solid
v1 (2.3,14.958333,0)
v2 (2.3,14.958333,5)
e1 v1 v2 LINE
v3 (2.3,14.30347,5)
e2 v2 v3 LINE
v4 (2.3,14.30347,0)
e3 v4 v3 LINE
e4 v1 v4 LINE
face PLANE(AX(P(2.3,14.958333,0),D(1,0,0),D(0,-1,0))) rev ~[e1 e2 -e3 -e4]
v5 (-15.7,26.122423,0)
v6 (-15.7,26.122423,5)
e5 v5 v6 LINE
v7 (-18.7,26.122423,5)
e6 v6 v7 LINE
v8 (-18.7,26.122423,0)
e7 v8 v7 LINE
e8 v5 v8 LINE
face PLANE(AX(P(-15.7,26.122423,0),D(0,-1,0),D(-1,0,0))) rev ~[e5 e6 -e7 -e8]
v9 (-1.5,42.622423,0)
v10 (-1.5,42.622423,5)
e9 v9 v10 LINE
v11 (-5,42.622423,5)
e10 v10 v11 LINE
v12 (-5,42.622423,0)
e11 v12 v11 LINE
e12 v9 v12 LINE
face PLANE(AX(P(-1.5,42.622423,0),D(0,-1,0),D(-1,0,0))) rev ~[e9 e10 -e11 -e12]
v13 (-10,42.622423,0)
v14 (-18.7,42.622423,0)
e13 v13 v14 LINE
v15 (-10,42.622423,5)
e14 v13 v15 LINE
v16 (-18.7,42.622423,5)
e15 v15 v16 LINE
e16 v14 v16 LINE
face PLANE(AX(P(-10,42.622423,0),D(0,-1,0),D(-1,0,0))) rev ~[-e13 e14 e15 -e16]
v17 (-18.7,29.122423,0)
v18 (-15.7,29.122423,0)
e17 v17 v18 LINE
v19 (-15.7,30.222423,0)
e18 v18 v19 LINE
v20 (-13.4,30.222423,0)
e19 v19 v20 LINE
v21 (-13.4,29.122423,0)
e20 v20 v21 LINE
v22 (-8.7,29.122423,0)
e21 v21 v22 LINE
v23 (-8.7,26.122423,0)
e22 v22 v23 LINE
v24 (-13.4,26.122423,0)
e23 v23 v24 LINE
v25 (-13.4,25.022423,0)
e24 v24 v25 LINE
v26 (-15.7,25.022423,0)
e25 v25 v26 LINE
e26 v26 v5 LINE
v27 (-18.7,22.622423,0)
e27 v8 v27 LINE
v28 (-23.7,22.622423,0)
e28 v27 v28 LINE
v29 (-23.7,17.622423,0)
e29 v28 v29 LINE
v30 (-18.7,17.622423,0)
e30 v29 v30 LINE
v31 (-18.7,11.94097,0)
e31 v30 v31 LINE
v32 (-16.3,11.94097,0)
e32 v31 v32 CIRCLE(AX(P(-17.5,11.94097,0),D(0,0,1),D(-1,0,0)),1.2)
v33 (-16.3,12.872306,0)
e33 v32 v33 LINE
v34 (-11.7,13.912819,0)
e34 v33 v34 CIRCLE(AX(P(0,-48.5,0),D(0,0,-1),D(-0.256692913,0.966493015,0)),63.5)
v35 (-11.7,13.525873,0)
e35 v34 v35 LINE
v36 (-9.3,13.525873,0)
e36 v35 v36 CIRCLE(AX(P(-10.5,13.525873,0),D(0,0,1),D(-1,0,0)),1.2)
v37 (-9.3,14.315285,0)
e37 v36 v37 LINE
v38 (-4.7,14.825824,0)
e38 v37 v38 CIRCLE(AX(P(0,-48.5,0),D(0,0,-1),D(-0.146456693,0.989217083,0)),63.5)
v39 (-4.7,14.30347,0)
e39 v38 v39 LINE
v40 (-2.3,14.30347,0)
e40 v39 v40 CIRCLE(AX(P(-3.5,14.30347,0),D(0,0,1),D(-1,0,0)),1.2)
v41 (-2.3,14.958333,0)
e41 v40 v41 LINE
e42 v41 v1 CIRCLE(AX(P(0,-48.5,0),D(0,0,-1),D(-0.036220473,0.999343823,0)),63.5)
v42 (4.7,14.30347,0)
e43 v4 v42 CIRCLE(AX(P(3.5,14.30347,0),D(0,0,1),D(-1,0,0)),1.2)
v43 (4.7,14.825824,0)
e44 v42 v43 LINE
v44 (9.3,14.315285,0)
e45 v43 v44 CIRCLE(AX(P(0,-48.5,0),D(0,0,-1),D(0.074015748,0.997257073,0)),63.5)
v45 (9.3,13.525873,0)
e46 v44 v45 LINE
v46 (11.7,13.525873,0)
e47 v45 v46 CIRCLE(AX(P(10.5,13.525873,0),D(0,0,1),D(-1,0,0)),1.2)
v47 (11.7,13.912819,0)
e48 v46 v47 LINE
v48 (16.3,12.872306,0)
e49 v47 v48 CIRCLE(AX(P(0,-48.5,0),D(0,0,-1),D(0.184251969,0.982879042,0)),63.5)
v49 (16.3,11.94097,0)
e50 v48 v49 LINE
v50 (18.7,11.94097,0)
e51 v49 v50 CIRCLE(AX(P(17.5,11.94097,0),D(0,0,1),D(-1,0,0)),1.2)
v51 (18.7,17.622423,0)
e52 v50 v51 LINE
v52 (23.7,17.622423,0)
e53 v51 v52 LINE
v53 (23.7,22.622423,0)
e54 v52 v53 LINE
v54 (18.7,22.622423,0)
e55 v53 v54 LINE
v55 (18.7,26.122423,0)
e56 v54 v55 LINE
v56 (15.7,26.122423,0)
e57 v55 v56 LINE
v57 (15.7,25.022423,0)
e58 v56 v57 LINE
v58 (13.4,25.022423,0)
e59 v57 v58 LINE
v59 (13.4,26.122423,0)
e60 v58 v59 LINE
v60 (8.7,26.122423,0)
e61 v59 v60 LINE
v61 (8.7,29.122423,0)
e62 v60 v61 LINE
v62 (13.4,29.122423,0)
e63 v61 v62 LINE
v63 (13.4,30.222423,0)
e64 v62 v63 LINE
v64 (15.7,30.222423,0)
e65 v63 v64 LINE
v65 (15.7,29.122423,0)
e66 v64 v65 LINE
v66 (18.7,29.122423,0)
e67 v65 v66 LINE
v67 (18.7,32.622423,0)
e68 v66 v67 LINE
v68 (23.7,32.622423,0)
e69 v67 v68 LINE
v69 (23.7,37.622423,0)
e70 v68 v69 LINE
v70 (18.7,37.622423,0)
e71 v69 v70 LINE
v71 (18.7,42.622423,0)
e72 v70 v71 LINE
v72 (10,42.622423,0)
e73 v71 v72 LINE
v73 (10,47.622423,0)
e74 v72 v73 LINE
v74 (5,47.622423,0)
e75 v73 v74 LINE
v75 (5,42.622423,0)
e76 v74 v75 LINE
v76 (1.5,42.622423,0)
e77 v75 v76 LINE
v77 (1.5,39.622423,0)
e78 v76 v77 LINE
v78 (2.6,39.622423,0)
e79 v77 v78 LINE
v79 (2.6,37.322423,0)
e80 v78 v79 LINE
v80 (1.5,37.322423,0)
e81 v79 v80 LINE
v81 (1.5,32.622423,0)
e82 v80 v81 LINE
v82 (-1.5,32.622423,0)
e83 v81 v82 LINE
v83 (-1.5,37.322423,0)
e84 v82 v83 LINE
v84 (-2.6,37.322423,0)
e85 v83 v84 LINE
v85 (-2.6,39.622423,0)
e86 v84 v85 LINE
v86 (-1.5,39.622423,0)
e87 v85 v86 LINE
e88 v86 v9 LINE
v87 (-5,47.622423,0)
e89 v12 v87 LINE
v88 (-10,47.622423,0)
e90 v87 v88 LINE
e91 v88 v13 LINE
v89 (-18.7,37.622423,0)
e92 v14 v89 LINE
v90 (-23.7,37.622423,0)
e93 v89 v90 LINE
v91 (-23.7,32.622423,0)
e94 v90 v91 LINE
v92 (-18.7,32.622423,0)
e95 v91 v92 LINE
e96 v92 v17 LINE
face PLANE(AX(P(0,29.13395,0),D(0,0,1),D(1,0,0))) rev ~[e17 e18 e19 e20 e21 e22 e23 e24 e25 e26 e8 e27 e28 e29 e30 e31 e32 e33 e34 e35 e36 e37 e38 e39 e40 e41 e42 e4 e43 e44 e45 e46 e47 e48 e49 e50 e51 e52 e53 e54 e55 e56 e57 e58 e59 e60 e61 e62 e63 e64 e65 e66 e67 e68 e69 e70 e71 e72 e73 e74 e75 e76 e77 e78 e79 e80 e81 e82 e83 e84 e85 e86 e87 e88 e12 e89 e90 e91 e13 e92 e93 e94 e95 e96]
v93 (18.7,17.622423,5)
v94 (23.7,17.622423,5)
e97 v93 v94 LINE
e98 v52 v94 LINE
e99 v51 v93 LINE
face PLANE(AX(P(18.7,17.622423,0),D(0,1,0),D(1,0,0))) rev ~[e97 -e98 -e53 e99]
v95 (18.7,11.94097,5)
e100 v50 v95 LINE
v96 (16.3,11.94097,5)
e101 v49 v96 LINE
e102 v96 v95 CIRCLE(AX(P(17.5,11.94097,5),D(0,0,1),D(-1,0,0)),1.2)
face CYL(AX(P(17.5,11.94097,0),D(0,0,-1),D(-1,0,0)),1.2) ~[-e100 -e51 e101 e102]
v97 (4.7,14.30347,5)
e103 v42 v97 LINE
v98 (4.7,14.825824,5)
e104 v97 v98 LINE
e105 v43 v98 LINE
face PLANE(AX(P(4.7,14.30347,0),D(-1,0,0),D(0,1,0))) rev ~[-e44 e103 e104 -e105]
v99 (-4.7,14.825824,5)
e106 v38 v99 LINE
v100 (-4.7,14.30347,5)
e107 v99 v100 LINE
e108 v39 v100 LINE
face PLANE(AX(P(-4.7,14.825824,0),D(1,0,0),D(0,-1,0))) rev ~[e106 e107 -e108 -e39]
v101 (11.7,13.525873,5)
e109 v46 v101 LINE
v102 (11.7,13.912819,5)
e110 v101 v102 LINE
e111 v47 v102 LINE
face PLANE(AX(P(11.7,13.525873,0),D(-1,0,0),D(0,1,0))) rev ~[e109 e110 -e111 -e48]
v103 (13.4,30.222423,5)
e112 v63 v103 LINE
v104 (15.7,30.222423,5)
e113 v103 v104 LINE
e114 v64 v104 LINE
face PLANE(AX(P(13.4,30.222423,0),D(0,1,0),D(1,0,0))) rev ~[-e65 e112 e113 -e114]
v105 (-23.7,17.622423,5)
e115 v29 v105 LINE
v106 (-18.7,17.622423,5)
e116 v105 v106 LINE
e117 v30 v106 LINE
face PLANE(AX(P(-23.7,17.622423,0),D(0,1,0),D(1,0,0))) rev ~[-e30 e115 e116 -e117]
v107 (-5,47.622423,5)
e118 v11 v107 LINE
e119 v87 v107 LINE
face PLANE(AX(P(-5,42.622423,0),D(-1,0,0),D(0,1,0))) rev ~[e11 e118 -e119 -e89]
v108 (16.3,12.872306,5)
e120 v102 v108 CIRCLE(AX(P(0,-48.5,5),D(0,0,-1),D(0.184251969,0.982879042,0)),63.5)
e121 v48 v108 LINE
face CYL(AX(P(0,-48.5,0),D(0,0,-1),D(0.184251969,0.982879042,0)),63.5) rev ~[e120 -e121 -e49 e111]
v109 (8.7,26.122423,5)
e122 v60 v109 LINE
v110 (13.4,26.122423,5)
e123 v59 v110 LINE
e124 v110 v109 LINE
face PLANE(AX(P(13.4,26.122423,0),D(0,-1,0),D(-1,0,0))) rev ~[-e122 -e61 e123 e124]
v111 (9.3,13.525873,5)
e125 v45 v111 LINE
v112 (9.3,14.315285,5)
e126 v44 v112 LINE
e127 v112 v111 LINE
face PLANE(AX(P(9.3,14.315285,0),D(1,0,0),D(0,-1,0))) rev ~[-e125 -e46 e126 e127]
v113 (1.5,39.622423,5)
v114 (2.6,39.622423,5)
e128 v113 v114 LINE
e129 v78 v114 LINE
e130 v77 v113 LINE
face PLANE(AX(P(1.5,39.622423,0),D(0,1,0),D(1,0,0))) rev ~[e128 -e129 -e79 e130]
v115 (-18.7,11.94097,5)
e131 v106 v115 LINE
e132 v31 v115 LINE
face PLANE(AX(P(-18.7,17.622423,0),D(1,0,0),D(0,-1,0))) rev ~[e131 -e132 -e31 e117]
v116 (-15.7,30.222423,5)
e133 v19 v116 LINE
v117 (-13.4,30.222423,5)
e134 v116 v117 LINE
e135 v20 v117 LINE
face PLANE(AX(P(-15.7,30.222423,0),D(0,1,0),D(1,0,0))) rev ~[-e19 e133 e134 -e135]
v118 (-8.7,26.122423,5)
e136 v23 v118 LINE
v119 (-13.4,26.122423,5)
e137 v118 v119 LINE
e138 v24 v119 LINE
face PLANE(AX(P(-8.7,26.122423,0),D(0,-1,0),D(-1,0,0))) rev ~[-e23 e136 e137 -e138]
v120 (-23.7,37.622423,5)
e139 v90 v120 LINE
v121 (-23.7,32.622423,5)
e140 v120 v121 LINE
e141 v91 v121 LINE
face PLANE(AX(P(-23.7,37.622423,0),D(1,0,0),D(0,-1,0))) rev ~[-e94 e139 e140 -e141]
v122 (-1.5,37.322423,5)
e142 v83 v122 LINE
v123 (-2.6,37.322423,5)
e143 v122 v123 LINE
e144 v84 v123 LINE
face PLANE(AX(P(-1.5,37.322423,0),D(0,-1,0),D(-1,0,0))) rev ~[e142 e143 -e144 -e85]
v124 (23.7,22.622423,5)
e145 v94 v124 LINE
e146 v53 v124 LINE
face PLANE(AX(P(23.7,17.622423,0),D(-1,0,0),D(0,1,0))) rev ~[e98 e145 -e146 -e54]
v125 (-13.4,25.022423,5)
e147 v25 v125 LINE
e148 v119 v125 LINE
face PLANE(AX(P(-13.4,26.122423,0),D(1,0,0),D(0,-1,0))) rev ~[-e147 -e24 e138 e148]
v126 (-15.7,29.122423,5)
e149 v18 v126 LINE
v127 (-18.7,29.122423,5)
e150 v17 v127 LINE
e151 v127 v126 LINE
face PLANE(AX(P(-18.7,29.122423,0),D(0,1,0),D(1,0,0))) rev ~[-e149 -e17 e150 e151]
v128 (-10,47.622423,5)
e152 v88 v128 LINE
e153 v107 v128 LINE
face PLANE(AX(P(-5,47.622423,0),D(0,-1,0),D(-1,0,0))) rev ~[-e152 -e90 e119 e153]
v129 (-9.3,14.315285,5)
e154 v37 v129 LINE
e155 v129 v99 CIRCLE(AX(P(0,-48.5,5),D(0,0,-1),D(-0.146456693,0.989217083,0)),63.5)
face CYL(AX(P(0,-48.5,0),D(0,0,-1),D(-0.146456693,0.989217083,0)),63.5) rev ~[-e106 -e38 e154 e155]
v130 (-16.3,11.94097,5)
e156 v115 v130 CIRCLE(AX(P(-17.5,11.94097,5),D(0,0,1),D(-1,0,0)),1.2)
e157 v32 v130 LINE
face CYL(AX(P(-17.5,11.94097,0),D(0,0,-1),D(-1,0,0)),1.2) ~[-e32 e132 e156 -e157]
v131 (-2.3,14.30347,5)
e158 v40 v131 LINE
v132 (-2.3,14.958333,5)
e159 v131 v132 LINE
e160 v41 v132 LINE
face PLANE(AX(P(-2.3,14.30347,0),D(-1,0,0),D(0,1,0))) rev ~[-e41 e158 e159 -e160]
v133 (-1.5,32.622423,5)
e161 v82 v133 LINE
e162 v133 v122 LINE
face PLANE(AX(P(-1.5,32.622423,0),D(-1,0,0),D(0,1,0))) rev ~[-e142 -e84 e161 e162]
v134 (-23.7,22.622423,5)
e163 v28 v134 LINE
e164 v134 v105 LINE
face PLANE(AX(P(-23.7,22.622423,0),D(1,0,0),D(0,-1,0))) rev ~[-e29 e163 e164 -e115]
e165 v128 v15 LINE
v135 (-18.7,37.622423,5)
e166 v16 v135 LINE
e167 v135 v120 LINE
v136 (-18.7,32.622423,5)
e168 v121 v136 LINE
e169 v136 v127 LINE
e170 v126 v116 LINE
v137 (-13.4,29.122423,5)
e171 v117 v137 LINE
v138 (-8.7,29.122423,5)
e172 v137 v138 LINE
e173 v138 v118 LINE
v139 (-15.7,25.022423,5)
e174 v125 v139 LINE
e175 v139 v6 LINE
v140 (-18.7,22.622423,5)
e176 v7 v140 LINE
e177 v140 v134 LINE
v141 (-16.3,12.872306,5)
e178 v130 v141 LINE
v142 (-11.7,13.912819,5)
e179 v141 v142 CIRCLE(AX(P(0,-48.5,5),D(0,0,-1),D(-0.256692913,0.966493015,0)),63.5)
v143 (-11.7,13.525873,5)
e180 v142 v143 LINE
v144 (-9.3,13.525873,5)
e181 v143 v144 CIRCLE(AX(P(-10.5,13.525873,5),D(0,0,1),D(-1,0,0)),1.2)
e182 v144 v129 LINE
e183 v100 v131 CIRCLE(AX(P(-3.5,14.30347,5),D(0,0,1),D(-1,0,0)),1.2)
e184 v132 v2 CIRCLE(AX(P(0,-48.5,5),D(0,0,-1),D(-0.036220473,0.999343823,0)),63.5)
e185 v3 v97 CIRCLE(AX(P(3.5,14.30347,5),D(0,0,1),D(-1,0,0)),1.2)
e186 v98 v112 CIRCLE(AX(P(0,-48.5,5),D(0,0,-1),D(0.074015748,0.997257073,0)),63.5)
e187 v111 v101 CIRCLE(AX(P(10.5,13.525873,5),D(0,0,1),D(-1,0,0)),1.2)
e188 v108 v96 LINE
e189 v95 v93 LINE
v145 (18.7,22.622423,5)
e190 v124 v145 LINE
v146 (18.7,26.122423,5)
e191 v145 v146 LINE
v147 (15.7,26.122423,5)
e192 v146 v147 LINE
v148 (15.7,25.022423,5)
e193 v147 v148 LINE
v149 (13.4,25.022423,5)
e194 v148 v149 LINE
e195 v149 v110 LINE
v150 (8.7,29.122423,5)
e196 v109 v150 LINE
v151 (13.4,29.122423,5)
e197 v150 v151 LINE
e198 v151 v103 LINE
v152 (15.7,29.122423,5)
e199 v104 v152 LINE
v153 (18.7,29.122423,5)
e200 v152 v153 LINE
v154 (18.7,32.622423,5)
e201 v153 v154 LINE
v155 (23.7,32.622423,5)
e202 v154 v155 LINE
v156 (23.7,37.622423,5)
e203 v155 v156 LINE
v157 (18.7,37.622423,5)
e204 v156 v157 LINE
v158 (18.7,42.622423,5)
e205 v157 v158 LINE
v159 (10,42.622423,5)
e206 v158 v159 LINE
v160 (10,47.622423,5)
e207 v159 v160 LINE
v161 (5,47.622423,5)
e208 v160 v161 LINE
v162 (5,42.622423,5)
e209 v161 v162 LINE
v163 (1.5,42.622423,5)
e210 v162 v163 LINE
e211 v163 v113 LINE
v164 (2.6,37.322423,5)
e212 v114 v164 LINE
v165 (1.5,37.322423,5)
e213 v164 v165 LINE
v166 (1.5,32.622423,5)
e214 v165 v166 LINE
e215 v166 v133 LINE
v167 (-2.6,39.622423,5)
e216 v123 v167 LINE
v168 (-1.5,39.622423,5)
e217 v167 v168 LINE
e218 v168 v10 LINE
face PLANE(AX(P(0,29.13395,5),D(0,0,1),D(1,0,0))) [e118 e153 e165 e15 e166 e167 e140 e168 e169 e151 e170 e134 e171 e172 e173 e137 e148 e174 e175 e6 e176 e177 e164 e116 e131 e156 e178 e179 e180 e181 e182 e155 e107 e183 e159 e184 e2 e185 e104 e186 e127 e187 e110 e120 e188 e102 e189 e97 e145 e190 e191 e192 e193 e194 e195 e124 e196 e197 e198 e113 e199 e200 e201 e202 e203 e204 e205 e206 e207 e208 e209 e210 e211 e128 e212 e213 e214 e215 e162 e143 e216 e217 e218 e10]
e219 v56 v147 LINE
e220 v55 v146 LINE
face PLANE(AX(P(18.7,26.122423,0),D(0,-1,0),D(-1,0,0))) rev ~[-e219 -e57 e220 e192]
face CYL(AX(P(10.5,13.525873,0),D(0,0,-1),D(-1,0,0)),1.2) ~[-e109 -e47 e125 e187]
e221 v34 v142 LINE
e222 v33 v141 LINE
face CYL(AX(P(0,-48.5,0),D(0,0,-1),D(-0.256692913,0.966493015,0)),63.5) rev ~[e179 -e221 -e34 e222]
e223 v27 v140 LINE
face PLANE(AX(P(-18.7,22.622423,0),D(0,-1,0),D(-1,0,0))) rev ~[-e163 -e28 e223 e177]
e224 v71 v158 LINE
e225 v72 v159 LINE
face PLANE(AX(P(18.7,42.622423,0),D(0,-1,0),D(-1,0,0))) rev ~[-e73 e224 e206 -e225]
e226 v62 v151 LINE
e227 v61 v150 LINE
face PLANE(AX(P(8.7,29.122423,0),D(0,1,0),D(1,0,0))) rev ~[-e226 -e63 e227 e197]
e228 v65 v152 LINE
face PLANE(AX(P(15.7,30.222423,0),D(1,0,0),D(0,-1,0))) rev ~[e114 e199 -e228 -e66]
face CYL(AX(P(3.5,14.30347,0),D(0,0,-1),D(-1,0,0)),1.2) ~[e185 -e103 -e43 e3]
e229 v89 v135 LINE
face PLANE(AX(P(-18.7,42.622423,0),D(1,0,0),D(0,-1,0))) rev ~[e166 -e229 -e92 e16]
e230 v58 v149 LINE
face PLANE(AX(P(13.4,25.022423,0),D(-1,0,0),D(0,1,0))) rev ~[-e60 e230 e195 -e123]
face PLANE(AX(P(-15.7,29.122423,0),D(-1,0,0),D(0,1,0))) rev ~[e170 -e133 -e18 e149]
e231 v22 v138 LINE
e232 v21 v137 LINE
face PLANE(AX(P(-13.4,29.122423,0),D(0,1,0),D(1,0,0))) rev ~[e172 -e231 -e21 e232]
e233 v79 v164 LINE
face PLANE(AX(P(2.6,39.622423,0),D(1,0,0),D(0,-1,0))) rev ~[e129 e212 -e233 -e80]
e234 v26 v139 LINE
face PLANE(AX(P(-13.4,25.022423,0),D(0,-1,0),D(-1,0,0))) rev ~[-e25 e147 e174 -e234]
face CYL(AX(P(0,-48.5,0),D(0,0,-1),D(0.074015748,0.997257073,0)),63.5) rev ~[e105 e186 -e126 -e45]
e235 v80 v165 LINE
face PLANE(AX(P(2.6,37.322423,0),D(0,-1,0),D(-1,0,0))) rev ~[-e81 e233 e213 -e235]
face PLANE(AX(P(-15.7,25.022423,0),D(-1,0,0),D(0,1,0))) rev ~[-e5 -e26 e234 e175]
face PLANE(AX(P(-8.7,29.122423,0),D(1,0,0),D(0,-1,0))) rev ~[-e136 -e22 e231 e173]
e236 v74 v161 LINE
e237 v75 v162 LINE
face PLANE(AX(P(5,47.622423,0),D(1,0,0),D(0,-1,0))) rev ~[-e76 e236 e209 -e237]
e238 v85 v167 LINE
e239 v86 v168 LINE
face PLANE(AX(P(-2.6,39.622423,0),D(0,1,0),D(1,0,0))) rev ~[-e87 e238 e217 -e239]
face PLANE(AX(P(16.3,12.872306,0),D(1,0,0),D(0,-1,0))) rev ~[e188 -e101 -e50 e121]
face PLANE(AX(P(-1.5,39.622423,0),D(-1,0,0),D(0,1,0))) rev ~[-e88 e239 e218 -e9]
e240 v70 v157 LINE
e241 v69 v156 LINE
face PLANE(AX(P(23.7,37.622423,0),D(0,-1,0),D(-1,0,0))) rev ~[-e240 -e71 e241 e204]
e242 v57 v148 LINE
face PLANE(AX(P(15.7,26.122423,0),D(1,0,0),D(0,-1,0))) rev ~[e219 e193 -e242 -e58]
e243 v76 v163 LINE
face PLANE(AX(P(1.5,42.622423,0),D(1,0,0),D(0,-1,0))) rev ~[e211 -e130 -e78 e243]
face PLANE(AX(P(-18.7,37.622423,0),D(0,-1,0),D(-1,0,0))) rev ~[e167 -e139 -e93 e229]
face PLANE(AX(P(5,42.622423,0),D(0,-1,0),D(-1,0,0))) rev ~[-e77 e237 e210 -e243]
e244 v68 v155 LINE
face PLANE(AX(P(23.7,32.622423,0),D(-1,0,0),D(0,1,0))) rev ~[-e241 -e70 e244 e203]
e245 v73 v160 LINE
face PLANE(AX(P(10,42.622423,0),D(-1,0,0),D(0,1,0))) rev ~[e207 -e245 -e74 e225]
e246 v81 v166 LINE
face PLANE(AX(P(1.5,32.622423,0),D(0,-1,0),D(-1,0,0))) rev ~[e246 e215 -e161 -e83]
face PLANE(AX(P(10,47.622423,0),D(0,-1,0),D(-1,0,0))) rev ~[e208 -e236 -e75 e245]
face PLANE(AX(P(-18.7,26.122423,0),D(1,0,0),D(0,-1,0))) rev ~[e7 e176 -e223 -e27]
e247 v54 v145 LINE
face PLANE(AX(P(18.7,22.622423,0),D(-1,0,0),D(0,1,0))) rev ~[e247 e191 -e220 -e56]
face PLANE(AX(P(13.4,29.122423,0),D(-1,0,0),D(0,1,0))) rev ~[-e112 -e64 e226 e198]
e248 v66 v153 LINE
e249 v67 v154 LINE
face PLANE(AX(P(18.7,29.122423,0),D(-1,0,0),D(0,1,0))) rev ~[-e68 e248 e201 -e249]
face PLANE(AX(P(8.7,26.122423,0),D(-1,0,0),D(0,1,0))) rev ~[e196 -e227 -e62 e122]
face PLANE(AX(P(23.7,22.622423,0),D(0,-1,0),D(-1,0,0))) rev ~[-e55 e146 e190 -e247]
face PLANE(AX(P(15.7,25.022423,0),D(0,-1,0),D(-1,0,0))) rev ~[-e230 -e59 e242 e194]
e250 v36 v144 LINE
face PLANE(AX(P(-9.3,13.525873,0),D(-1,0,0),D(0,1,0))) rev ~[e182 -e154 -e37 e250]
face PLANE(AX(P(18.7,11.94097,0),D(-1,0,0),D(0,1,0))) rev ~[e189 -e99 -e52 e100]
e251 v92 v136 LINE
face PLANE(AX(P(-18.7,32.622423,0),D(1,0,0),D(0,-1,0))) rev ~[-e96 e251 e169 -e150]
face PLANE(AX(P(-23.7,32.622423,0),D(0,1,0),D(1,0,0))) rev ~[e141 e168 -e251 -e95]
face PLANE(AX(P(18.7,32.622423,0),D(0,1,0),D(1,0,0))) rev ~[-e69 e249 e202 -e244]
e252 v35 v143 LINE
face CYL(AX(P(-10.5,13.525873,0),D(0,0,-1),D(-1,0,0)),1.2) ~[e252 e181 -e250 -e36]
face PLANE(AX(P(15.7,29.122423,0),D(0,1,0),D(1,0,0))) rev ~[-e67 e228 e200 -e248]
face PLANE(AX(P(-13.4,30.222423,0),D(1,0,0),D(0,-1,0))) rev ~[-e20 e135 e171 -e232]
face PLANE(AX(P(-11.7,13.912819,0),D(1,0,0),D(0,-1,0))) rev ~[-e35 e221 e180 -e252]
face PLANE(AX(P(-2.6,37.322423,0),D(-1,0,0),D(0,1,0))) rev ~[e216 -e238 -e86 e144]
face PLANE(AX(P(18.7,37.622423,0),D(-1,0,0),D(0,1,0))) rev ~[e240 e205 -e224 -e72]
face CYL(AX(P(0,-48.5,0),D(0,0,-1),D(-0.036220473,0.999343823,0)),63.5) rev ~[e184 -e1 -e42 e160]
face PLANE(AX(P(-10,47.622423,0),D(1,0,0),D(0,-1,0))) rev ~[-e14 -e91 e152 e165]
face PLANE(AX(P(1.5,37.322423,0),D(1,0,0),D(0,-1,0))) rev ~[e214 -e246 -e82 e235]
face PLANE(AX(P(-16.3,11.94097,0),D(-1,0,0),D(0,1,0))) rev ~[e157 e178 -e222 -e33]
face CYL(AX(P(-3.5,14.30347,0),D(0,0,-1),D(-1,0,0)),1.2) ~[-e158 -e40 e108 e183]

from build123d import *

# Parameters (mm, degrees)
BOSS_EXTRUDE1_DEPTH = 5


with BuildPart() as part:
    # Sketch1 → Boss-Extrude1 (new body)
    with BuildSketch(Plane.XY):
        with BuildLine():
            Line((-18.7, 12.184100059), (-18.7, 11.940969848))
            ThreePointArc((-18.7, 11.940969848), (-17.5, 10.740969848), (-16.3, 11.940969848))
            Line((-16.3, 11.940969848), (-16.3, 12.872306458))
            ThreePointArc((-16.3, 12.872306458), (-14.009663332, 13.435283428), (-11.7, 13.912819196))
            Line((-11.7, 13.912819196), (-11.7, 13.525873247))
            ThreePointArc((-11.7, 13.525873247), (-10.5, 12.325873247), (-9.3, 13.525873247))
            Line((-9.3, 13.525873247), (-9.3, 14.315284764))
            ThreePointArc((-9.3, 14.315284764), (-7.004652926, 14.612477668), (-4.7, 14.825824116))
            Line((-4.7, 14.825824116), (-4.7, 14.303469937))
            ThreePointArc((-4.7, 14.303469937), (-3.5, 13.103469937), (-2.3, 14.303469937))
            Line((-2.3, 14.303469937), (-2.3, 14.958332786))
            ThreePointArc((-2.3, 14.958332786), (0, 15), (2.3, 14.958332786))
            Line((2.3, 14.958332786), (2.3, 14.303469937))
            ThreePointArc((2.3, 14.303469937), (3.5, 13.103469937), (4.7, 14.303469937))
            Line((4.7, 14.303469937), (4.7, 14.825824116))
            ThreePointArc((4.7, 14.825824116), (7.004652926, 14.612477668), (9.3, 14.315284764))
            Line((9.3, 14.315284764), (9.3, 13.525873247))
            ThreePointArc((9.3, 13.525873247), (10.5, 12.325873247), (11.7, 13.525873247))
            Line((11.7, 13.525873247), (11.7, 13.912819196))
            ThreePointArc((11.7, 13.912819196), (14.009663332, 13.435283428), (16.3, 12.872306458))
            Line((16.3, 12.872306458), (16.3, 11.940969848))
            ThreePointArc((16.3, 11.940969848), (17.5, 10.740969848), (18.7, 11.940969848))
            Line((18.7, 11.940969848), (18.7, 12.184100059))
            Line((18.7, 12.184100059), (18.7, 17.622423299))
            Line((18.7, 17.622423299), (23.7, 17.622423299))
            Line((23.7, 17.622423299), (23.7, 22.622423299))
            Line((23.7, 22.622423299), (18.7, 22.622423299))
            Line((18.7, 22.622423299), (18.7, 26.122423299))
            Line((18.7, 26.122423299), (15.7, 26.122423299))
            Line((15.7, 26.122423299), (15.7, 25.022423299))
            Line((15.7, 25.022423299), (13.4, 25.022423299))
            Line((13.4, 25.022423299), (13.4, 26.122423299))
            Line((13.4, 26.122423299), (8.7, 26.122423299))
            Line((8.7, 26.122423299), (8.7, 29.122423299))
            Line((8.7, 29.122423299), (13.4, 29.122423299))
            Line((13.4, 29.122423299), (13.4, 30.222423299))
            Line((13.4, 30.222423299), (15.7, 30.222423299))
            Line((15.7, 30.222423299), (15.7, 29.122423299))
            Line((15.7, 29.122423299), (18.7, 29.122423299))
            Line((18.7, 29.122423299), (18.7, 32.622423299))
            Line((18.7, 32.622423299), (23.7, 32.622423299))
            Line((23.7, 32.622423299), (23.7, 37.622423299))
            Line((23.7, 37.622423299), (18.7, 37.622423299))
            Line((18.7, 37.622423299), (18.7, 42.622423299))
            Line((18.7, 42.622423299), (10, 42.622423299))
            Line((10, 42.622423299), (10, 47.622423299))
            Line((10, 47.622423299), (5, 47.622423299))
            Line((5, 47.622423299), (5, 42.622423299))
            Line((5, 42.622423299), (1.5, 42.622423299))
            Line((1.5, 42.622423299), (1.5, 39.622423299))
            Line((1.5, 39.622423299), (2.6, 39.622423299))
            Line((2.6, 39.622423299), (2.6, 37.322423299))
            Line((2.6, 37.322423299), (1.5, 37.322423299))
            Line((1.5, 37.322423299), (1.5, 32.622423299))
            Line((1.5, 32.622423299), (-1.5, 32.622423299))
            Line((-1.5, 32.622423299), (-1.5, 37.322423299))
            Line((-1.5, 37.322423299), (-2.6, 37.322423299))
            Line((-2.6, 37.322423299), (-2.6, 39.622423299))
            Line((-2.6, 39.622423299), (-1.5, 39.622423299))
            Line((-1.5, 39.622423299), (-1.5, 42.622423299))
            Line((-1.5, 42.622423299), (-5, 42.622423299))
            Line((-5, 42.622423299), (-5, 47.622423299))
            Line((-5, 47.622423299), (-10, 47.622423299))
            Line((-10, 47.622423299), (-10, 42.622423299))
            Line((-10, 42.622423299), (-18.7, 42.622423299))
            Line((-18.7, 42.622423299), (-18.7, 37.622423299))
            Line((-18.7, 37.622423299), (-23.7, 37.622423299))
            Line((-23.7, 37.622423299), (-23.7, 32.622423299))
            Line((-23.7, 32.622423299), (-18.7, 32.622423299))
            Line((-18.7, 32.622423299), (-18.7, 29.122423299))
            Line((-18.7, 29.122423299), (-15.7, 29.122423299))
            Line((-15.7, 29.122423299), (-15.7, 30.222423299))
            Line((-15.7, 30.222423299), (-13.4, 30.222423299))
            Line((-13.4, 30.222423299), (-13.4, 29.122423299))
            Line((-13.4, 29.122423299), (-8.7, 29.122423299))
            Line((-8.7, 29.122423299), (-8.7, 26.122423299))
            Line((-8.7, 26.122423299), (-13.4, 26.122423299))
            Line((-13.4, 26.122423299), (-13.4, 25.022423299))
            Line((-13.4, 25.022423299), (-15.7, 25.022423299))
            Line((-15.7, 25.022423299), (-15.7, 26.122423299))
            Line((-15.7, 26.122423299), (-18.7, 26.122423299))
            Line((-18.7, 26.122423299), (-18.7, 22.622423299))
            Line((-18.7, 22.622423299), (-23.7, 22.622423299))
            Line((-23.7, 22.622423299), (-23.7, 17.622423299))
            Line((-23.7, 17.622423299), (-18.7, 17.622423299))
            Line((-18.7, 17.622423299), (-18.7, 12.184100059))
        make_face()
    extrude(amount=BOSS_EXTRUDE1_DEPTH)


solid = part.part
